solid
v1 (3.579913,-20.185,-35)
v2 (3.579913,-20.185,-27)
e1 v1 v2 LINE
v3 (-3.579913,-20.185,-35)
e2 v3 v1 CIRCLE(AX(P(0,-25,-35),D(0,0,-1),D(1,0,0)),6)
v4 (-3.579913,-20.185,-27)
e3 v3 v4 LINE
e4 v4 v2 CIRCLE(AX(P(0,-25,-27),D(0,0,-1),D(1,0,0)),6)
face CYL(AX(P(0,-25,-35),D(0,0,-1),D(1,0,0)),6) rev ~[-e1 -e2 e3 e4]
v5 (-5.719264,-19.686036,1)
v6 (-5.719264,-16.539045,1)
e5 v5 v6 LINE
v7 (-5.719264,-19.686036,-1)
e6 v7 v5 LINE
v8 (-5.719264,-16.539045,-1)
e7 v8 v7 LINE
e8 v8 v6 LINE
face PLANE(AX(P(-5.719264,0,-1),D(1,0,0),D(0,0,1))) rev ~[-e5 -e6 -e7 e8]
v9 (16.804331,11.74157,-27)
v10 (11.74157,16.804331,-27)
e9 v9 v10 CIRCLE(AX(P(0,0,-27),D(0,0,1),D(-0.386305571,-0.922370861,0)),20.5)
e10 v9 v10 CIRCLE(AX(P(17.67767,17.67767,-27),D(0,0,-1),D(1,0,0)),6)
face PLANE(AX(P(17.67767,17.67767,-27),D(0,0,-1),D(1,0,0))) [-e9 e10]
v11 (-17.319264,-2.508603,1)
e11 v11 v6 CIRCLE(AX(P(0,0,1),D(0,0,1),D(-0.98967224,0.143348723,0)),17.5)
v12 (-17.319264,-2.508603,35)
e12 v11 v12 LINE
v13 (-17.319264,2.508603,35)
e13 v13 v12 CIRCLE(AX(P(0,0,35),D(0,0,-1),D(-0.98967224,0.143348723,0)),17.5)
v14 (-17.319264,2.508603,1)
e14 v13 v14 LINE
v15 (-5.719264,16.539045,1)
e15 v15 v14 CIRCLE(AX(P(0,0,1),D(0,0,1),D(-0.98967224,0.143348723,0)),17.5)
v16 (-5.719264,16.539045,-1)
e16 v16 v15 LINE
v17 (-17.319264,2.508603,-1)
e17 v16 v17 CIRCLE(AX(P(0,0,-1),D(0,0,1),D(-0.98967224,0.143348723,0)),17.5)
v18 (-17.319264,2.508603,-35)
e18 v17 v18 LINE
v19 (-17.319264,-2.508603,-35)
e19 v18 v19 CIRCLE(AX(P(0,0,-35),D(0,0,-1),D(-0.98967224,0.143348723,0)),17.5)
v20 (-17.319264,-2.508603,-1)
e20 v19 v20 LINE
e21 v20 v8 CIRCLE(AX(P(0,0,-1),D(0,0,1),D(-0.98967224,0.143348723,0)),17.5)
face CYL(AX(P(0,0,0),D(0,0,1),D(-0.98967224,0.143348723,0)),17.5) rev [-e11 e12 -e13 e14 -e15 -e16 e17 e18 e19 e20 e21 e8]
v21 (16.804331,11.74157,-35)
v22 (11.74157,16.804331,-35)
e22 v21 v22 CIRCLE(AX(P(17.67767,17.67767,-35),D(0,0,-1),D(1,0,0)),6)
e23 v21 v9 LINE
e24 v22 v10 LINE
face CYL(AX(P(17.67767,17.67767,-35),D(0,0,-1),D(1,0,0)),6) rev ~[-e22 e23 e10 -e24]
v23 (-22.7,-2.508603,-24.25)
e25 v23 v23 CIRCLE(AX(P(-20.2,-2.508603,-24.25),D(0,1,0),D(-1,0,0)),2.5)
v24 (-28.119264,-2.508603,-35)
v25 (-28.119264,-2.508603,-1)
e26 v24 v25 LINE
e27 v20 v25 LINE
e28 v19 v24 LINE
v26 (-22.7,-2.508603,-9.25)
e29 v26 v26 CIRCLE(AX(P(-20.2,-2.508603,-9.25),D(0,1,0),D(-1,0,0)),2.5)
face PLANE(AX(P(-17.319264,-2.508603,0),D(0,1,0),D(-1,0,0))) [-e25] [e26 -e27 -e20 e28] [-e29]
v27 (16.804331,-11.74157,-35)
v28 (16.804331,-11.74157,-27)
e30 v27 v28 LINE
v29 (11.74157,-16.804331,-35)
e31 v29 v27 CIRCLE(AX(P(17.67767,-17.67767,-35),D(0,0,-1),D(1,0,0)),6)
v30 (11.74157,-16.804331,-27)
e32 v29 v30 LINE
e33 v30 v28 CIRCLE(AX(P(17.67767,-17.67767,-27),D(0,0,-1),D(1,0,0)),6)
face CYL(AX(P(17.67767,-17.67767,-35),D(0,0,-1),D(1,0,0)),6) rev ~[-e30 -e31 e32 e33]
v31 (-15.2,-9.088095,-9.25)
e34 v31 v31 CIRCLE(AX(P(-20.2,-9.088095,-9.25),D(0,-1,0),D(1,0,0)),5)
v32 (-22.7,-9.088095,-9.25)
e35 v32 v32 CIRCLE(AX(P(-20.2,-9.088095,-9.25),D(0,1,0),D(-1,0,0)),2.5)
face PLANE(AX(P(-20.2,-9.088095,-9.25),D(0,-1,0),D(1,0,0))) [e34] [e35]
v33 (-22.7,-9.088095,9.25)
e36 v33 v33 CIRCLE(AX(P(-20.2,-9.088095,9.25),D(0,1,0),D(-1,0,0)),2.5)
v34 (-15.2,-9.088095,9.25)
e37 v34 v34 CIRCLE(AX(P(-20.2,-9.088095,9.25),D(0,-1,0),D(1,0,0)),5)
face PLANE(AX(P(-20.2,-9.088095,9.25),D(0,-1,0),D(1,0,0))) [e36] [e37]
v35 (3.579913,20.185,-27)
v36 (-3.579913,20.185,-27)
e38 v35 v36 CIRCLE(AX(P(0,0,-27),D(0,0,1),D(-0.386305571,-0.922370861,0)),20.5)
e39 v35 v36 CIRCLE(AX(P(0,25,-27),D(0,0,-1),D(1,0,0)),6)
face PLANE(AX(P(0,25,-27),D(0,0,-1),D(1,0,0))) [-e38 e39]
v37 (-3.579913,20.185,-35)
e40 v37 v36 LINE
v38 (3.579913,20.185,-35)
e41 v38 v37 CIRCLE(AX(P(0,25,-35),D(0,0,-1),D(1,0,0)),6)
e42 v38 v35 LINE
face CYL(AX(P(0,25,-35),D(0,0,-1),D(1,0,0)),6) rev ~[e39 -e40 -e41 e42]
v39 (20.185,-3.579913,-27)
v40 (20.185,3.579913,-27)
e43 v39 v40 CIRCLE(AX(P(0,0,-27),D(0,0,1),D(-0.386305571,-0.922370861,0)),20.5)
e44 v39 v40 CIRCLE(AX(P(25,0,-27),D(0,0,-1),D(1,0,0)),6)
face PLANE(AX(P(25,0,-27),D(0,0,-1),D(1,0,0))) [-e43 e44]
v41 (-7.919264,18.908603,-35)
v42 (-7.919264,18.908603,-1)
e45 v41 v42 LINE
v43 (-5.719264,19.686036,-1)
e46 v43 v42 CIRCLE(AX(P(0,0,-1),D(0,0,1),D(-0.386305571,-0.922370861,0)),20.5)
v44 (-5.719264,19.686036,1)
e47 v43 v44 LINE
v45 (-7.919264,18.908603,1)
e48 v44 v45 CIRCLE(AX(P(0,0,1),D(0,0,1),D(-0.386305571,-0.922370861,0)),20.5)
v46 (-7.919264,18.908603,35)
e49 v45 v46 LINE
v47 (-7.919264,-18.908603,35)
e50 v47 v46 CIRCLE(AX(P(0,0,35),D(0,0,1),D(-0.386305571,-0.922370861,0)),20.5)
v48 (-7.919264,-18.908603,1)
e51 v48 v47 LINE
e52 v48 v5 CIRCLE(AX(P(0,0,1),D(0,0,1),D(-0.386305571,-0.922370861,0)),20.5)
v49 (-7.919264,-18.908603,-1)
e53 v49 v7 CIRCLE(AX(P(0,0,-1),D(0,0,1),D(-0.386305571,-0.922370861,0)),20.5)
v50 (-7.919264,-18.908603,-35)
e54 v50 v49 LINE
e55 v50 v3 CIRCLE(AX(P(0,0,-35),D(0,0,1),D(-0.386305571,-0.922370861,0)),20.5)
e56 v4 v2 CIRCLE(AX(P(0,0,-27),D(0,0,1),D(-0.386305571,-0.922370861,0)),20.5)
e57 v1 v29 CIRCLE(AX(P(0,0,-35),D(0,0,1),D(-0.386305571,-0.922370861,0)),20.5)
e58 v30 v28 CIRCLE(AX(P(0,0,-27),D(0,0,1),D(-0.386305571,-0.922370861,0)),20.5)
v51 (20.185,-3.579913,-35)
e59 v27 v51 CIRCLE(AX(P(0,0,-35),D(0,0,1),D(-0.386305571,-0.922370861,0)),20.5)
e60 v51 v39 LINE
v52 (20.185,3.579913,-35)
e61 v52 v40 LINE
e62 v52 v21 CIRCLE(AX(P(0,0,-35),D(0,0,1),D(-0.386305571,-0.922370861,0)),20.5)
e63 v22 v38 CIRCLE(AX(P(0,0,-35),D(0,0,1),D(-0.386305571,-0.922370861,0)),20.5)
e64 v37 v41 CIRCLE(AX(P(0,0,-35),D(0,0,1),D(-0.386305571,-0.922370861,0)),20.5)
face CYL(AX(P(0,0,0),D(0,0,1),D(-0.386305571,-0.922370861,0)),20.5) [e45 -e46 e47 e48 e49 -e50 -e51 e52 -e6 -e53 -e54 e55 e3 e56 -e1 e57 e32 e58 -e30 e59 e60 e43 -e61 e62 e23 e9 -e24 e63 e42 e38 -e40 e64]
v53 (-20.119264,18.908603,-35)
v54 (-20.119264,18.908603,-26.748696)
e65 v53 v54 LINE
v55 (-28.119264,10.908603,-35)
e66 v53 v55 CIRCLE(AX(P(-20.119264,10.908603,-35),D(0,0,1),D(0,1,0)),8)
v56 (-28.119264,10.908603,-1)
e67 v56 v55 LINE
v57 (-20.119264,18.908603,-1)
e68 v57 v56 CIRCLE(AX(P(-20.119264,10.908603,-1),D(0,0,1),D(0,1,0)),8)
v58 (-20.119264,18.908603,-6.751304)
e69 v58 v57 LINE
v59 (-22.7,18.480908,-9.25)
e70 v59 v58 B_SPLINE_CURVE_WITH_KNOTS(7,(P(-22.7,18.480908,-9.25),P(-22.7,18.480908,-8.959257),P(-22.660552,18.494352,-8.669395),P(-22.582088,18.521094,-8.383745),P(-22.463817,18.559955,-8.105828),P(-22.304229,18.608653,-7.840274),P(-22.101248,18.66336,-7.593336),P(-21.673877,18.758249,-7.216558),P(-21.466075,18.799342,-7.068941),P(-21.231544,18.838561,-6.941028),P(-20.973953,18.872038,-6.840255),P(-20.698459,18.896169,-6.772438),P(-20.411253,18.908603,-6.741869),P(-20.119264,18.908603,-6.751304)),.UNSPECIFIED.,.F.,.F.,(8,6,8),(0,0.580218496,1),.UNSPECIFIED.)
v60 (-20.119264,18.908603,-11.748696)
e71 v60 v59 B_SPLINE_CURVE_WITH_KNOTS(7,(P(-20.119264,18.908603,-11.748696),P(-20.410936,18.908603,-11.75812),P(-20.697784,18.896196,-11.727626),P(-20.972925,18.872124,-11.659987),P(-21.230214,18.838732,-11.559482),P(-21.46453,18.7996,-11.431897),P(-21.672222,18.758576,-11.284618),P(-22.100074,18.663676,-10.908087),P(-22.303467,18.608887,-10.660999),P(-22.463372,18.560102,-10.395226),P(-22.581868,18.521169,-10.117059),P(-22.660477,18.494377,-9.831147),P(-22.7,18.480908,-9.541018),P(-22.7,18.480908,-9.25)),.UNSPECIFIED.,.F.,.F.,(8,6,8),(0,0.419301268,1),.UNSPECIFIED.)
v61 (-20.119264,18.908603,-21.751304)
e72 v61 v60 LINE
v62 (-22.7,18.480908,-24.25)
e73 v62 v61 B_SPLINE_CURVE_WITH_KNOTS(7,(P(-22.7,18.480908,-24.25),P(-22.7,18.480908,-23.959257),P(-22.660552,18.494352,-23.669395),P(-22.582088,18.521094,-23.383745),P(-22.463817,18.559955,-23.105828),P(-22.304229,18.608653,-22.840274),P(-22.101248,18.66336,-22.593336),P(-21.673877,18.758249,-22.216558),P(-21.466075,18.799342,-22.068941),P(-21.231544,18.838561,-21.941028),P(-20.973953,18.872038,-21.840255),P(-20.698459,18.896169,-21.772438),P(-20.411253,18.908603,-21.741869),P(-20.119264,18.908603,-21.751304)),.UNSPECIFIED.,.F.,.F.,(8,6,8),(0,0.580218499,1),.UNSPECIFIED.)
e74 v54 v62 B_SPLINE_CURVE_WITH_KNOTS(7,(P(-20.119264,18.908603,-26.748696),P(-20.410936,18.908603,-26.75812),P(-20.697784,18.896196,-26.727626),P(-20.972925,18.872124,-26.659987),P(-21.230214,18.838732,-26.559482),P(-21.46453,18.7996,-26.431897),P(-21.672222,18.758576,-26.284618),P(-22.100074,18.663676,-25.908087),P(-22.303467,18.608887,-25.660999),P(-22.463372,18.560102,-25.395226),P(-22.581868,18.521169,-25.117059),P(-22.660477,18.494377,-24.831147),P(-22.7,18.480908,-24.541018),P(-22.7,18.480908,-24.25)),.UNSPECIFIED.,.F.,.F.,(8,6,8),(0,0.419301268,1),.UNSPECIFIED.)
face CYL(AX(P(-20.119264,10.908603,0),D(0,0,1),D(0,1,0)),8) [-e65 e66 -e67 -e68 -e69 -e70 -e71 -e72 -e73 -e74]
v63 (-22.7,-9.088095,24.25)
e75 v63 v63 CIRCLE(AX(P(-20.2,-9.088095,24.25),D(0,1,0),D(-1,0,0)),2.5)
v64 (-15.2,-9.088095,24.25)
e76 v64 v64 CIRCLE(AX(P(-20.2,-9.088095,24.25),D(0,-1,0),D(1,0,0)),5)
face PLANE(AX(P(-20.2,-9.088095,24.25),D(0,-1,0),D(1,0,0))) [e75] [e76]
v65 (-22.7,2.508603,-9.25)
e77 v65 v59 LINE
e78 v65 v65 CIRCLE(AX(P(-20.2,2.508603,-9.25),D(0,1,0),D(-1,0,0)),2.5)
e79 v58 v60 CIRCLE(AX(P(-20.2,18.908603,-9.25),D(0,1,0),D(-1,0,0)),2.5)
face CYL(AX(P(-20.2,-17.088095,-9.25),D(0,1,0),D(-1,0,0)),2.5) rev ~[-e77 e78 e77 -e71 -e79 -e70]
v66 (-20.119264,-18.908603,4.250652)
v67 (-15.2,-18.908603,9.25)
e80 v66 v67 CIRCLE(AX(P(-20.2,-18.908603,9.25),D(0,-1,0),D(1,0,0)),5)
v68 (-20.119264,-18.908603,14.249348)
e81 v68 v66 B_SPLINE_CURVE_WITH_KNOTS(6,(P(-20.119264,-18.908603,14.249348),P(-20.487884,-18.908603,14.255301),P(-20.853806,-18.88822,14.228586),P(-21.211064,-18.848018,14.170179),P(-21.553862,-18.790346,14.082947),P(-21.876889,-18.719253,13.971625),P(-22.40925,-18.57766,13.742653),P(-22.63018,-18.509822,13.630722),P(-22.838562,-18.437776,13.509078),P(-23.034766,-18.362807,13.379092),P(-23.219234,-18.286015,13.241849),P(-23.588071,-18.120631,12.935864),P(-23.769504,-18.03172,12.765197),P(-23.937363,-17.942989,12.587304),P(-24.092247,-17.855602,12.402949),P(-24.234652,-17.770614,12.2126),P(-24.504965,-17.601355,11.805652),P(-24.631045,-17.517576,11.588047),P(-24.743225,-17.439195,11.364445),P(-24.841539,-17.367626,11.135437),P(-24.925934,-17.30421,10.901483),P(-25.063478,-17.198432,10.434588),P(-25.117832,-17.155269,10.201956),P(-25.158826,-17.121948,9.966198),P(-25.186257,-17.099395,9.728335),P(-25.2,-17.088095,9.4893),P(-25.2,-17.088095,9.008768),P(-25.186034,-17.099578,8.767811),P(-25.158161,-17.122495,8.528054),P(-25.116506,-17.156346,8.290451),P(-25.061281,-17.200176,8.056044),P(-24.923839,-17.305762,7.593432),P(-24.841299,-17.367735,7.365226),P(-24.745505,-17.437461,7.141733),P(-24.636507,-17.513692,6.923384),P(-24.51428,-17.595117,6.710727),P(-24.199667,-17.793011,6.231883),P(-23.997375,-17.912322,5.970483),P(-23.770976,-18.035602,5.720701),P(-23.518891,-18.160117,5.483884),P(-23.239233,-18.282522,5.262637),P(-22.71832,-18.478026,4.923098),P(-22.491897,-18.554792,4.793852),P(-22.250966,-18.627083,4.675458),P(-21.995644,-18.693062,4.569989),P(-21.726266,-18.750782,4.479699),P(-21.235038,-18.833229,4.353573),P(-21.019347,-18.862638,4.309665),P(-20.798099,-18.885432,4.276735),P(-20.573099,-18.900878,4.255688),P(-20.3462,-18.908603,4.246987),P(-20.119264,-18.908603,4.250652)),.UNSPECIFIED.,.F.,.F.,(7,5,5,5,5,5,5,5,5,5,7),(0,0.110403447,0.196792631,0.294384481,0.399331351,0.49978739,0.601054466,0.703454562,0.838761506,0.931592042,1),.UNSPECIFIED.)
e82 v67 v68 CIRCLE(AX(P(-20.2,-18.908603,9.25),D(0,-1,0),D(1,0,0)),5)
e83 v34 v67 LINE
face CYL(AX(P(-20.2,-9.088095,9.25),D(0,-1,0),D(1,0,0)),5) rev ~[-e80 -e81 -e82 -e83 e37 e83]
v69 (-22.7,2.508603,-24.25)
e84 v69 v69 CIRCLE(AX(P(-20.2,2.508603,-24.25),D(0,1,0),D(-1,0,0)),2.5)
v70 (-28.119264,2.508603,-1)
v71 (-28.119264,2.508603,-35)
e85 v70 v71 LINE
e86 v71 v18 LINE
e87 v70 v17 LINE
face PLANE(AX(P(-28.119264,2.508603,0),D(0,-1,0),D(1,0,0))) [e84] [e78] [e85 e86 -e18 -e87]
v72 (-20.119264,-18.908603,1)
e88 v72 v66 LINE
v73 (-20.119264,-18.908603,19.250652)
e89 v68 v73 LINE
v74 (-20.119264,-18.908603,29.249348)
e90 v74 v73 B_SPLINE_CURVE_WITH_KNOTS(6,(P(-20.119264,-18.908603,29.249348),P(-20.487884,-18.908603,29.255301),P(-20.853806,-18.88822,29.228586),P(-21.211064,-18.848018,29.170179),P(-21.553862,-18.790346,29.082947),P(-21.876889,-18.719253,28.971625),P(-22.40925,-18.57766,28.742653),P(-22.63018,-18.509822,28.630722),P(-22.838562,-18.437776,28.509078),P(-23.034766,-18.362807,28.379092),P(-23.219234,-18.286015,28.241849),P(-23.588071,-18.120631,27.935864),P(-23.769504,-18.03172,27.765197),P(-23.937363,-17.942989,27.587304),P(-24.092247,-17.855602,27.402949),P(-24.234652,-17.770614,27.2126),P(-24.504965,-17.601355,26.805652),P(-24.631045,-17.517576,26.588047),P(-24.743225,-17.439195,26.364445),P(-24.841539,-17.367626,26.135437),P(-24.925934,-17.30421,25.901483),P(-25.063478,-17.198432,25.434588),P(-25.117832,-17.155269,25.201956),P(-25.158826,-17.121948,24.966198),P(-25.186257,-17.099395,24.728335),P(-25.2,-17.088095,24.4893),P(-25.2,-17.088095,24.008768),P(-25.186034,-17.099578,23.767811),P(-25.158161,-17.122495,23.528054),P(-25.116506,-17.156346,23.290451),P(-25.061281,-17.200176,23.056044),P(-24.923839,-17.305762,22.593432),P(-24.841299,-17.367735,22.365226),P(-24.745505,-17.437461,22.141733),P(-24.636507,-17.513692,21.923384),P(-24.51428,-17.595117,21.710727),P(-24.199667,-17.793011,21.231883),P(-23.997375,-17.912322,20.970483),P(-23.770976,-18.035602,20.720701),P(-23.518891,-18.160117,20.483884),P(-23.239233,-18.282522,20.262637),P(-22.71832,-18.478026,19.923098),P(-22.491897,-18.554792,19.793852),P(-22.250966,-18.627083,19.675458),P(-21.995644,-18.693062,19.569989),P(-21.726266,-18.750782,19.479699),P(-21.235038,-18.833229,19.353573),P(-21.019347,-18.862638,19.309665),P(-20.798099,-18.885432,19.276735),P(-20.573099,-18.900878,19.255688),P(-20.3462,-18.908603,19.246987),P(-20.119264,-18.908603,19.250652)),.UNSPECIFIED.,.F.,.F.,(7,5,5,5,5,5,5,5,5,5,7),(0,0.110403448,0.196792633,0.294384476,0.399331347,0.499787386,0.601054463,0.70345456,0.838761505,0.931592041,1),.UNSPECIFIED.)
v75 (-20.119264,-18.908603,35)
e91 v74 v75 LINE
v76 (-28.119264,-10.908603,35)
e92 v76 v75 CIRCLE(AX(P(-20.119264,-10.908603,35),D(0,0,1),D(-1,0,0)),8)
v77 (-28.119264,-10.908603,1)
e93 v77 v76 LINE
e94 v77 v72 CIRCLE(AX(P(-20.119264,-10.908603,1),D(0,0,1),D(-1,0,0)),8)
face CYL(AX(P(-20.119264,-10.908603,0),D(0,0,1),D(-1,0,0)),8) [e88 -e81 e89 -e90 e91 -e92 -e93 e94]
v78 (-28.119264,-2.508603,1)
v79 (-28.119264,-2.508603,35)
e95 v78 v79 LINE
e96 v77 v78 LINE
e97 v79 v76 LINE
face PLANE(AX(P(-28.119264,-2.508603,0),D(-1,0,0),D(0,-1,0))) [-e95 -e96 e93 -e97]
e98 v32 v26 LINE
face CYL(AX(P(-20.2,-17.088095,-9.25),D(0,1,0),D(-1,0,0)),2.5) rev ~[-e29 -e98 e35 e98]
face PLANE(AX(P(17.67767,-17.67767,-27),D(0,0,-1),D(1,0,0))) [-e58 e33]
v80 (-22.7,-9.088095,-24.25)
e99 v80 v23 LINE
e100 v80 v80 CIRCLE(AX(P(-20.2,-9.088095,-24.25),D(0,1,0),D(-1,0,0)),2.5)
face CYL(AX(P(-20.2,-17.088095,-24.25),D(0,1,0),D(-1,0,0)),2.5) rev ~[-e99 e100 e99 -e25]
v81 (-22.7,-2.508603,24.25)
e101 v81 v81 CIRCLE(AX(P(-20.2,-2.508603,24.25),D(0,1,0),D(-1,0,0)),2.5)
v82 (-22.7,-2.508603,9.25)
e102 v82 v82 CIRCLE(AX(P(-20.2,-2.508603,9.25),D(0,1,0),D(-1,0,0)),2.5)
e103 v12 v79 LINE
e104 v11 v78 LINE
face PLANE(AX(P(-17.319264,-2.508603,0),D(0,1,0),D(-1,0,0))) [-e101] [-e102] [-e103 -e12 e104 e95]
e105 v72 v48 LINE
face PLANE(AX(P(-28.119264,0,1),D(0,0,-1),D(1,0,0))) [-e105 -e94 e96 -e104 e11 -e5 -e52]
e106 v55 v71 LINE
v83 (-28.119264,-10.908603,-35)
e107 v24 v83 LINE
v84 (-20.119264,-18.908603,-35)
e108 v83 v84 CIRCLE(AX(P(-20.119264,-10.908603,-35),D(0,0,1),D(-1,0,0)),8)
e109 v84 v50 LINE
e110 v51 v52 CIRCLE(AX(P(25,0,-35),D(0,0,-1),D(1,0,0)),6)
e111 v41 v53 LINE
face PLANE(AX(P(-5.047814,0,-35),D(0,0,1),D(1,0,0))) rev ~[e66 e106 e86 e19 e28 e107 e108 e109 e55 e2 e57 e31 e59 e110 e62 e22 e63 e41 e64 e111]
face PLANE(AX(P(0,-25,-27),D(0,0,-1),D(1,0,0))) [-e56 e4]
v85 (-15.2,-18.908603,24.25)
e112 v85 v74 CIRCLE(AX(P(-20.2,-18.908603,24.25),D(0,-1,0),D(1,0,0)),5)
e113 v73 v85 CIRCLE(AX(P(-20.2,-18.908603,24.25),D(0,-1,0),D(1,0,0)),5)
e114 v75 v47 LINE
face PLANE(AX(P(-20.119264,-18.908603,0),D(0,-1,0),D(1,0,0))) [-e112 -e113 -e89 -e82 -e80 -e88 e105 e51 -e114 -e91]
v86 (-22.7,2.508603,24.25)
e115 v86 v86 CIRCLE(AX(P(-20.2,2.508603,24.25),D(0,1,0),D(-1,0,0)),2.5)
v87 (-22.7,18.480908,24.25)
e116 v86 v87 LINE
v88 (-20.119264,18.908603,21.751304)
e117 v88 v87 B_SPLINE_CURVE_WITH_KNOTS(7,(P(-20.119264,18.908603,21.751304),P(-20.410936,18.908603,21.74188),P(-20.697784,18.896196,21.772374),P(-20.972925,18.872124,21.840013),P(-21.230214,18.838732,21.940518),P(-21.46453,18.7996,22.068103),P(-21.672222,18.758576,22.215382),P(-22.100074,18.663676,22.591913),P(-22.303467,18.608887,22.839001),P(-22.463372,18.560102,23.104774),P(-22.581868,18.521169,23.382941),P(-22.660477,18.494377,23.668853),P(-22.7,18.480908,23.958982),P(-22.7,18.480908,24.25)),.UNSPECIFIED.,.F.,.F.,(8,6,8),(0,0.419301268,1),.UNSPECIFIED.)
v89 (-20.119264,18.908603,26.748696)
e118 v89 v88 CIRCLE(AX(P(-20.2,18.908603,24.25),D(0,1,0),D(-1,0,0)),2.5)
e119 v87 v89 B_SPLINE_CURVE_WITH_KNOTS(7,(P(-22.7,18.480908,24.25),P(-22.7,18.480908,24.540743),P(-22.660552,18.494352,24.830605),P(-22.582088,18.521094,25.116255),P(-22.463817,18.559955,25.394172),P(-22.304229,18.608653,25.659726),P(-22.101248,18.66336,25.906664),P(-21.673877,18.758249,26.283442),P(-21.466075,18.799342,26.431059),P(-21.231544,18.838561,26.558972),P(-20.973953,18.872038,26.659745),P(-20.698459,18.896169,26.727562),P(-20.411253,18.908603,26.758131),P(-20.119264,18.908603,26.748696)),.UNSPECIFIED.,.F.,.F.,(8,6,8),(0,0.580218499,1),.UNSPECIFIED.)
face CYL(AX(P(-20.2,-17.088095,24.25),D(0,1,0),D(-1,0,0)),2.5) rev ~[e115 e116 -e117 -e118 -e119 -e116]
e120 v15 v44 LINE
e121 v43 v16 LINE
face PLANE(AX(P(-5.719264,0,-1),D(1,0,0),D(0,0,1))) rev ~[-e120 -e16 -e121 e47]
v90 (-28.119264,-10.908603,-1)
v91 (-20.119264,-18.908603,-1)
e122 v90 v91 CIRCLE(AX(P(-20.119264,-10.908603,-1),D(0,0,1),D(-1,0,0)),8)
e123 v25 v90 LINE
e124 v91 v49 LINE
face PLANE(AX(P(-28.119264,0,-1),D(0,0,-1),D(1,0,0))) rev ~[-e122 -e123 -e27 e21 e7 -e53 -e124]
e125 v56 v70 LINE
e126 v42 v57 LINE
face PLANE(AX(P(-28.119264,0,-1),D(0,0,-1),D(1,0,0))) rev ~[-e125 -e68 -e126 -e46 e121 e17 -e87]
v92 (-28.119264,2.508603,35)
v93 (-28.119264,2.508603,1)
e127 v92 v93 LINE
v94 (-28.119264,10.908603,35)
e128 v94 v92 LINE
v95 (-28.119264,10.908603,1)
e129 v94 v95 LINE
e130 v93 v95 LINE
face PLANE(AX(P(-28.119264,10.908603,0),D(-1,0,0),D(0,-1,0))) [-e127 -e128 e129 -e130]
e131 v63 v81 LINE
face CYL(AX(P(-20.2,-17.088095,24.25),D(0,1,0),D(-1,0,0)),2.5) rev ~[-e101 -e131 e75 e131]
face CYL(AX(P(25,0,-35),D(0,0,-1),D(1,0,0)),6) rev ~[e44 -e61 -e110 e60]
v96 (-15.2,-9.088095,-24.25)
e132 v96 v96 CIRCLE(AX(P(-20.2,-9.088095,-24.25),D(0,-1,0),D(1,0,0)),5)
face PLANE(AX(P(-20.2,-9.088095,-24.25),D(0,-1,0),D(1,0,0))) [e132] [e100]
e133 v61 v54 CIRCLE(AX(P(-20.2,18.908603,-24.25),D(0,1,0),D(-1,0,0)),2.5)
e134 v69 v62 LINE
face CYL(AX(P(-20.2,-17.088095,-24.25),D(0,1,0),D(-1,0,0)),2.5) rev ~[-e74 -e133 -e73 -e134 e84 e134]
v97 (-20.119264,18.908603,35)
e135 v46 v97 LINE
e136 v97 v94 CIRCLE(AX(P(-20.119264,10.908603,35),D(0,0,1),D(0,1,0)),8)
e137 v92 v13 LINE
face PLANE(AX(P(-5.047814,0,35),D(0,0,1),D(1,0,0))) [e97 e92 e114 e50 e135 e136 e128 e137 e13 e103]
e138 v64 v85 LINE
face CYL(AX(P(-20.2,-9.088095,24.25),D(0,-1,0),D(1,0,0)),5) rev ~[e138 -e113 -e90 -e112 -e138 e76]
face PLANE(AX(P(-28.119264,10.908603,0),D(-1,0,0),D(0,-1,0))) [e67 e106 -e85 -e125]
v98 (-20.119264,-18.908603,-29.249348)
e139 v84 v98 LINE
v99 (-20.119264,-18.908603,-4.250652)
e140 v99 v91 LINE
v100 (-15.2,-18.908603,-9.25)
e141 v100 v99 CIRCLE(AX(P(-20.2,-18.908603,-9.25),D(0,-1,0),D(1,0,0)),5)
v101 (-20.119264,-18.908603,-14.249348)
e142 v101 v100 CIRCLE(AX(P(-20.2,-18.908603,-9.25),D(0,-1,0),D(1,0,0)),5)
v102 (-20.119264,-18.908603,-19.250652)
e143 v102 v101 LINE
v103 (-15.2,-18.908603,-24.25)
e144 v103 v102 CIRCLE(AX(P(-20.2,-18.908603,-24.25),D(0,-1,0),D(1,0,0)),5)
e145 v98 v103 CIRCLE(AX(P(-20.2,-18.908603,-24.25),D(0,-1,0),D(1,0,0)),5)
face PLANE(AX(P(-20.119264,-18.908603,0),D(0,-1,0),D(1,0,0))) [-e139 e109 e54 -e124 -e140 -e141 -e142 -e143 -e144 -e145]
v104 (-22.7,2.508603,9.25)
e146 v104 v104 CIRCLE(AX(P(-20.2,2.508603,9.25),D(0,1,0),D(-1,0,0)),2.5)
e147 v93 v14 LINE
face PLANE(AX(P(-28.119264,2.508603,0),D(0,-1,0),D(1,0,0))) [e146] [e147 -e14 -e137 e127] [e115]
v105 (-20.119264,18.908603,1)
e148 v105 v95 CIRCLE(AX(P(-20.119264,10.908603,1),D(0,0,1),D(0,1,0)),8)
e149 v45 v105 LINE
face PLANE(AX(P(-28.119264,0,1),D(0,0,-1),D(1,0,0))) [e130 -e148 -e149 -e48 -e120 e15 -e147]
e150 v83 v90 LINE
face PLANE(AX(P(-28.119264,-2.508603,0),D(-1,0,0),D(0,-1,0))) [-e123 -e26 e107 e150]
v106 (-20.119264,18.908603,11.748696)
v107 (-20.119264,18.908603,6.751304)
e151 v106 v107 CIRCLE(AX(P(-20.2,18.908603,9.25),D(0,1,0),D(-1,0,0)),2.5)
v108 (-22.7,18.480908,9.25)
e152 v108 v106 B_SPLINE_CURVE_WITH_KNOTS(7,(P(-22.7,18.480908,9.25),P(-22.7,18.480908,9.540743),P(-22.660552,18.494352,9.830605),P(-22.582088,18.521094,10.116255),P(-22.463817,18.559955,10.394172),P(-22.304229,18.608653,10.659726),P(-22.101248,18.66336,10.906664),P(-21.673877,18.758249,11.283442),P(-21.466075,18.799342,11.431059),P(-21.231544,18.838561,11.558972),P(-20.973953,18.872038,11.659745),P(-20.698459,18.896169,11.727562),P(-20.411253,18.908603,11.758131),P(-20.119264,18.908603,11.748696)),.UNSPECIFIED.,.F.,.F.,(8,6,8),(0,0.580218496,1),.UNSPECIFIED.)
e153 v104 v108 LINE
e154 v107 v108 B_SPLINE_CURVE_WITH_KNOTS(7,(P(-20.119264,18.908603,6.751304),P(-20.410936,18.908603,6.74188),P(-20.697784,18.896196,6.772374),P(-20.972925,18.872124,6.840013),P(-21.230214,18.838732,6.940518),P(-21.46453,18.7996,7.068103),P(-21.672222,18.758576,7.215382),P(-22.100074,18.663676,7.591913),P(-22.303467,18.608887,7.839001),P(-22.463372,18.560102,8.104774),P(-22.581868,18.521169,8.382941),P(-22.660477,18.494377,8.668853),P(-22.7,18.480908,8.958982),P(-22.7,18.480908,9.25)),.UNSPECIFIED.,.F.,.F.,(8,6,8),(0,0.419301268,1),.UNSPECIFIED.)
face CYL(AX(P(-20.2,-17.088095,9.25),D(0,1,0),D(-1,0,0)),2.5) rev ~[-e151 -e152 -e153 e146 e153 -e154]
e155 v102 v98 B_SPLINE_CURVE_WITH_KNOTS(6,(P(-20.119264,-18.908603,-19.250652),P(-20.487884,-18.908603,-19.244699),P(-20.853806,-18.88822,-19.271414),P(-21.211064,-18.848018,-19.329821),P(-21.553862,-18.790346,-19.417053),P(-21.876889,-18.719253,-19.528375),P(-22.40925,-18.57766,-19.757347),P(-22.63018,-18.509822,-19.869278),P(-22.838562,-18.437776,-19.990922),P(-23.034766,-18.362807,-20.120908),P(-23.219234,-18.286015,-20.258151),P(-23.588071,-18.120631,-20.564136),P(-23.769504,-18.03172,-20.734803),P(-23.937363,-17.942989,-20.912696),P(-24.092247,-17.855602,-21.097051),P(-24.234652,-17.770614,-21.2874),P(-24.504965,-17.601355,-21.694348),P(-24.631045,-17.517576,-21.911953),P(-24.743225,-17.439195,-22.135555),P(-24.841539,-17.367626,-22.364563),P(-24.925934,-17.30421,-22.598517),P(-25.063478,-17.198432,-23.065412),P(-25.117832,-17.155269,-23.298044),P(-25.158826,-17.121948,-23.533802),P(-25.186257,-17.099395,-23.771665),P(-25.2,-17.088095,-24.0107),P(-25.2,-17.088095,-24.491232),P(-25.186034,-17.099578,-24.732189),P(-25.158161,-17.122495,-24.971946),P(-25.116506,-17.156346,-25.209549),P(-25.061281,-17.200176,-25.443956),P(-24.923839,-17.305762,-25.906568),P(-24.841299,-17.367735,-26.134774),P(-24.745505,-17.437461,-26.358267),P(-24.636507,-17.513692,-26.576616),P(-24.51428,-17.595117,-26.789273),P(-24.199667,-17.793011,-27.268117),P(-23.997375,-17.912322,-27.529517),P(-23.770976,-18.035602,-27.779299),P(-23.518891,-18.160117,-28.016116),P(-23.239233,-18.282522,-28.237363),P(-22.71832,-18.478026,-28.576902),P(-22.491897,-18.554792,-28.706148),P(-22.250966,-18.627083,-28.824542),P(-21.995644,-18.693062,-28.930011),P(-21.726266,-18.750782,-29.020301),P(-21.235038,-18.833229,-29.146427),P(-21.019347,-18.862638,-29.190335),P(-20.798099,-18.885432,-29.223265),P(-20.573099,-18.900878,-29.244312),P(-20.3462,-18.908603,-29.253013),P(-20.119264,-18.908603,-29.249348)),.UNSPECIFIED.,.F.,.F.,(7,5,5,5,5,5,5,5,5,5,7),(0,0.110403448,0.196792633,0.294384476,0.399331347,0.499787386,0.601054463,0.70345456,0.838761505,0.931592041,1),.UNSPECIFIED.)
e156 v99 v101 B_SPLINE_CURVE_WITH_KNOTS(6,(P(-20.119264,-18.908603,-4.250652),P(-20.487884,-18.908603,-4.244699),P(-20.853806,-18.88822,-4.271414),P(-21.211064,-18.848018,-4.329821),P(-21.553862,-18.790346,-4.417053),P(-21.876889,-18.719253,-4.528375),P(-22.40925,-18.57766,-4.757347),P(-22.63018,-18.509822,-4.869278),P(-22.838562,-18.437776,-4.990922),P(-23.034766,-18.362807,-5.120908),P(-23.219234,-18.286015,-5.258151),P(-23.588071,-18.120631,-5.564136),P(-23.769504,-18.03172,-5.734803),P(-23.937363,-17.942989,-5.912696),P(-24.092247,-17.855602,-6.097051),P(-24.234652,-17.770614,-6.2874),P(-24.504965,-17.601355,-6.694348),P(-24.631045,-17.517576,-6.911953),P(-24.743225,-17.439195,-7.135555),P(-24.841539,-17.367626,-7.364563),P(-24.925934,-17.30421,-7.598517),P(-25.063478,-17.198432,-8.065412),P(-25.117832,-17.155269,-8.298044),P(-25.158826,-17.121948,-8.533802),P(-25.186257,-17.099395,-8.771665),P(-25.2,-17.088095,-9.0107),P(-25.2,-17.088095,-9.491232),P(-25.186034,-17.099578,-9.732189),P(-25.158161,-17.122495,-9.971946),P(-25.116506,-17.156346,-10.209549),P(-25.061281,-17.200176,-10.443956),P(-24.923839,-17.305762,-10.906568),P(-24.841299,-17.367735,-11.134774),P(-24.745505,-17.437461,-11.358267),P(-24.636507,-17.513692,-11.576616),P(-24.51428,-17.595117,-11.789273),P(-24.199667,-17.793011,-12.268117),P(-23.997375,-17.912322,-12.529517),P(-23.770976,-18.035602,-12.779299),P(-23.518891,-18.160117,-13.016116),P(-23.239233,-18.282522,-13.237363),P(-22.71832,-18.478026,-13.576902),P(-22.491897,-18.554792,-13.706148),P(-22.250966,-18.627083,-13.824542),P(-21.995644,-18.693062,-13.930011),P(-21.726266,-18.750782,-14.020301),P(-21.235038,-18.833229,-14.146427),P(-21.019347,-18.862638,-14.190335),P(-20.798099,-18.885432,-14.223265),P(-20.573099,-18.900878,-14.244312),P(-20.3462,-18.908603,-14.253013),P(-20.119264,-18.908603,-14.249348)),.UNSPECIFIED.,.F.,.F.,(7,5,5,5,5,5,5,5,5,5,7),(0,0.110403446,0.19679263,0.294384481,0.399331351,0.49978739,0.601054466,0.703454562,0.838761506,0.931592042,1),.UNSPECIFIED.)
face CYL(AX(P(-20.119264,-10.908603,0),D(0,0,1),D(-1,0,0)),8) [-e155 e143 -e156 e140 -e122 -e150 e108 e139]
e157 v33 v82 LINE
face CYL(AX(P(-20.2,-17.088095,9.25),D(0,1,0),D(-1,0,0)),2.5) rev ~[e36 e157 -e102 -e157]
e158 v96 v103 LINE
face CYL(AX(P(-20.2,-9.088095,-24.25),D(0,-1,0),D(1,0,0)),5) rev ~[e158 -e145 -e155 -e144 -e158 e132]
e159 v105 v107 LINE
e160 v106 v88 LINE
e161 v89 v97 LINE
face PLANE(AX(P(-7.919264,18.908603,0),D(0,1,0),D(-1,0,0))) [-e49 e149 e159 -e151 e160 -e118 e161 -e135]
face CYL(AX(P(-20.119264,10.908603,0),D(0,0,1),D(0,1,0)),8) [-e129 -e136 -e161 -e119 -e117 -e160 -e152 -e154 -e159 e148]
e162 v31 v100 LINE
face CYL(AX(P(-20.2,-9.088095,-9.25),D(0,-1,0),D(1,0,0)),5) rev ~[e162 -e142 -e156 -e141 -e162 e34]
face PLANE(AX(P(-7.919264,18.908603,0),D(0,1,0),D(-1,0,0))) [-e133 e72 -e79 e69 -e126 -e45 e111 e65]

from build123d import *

# Parameters (mm, degrees)
F1_DEPTH       = 35
F3_D           = 5
F3_START       = 1.8205079
F3_CBORE_D     = 10
F3_CBORE_DEPTH = 8
F4_W           = 22.4
F4_H           = 2
F5_DEPTH       = 25
F6_R           = 6
F7_DEPTH       = 8


with BuildPart() as f1:
    # F0 (on Top) → F1 (new body, symmetric)
    with BuildSketch(Plane.XY):
        with BuildLine():
            ThreePointArc((-17.3192642082, 2.5086026559), (17.5, 0), (-17.3192642082, -2.5086026559))
            Line((-17.3192642082, -2.5086026559), (-28.1192642082, -2.5086026559))
            Line((-28.1192642082, -2.5086026559), (-28.1192642082, -10.9086026559))
            ThreePointArc((-28.1192642082, -10.9086026559), (-25.7761184577, -16.5654569054), (-20.1192642082, -18.9086026559))
            Line((-20.1192642082, -18.9086026559), (-7.9192642082, -18.9086026559))
            ThreePointArc((-7.9192642082, -18.9086026559), (20.5, 0), (-7.9192642082, 18.9086026559))
            Line((-7.9192642082, 18.9086026559), (-20.1192642082, 18.9086026559))
            ThreePointArc((-20.1192642082, 18.9086026559), (-25.7761184577, 16.5654569054), (-28.1192642082, 10.9086026559))
            Line((-28.1192642082, 10.9086026559), (-28.1192642082, 2.5086026559))
            Line((-28.1192642082, 2.5086026559), (-17.3192642082, 2.5086026559))
        make_face()
    extrude(amount=F1_DEPTH, both=True)

    # F3 (through all)
    # its depths count from where the whole tool has entered the part; down to there all is cleared
    with Locations(Plane.XZ.offset(18.9086026559).offset(-F3_START)):
        with Locations((-20.2, -24.25), (-20.2, -9.25), (-20.2, 9.25), (-20.2, 24.25)):
            CounterBoreHole(F3_D / 2, F3_CBORE_D / 2, F3_CBORE_DEPTH)

    # F4 (on Front) → F5 (cut, symmetric)
    with BuildSketch(Plane.XZ):
        with Locations((-16.9192642082, 0)):
            Rectangle(F4_W, F4_H)
    extrude(amount=F5_DEPTH, both=True, mode=Mode.SUBTRACT)

    # F6 (on face) → F7 (cut)
    with BuildSketch(Plane(origin=(0, 0, -35), x_dir=(1, 0, 0), z_dir=(0, 0, -1))):
        with Locations((0, 25)):
            Circle(F6_R)
        with Locations((17.6776695297, 17.6776695297)):
            Circle(F6_R)
        with Locations((25, 0)):
            Circle(F6_R)
        with Locations((17.6776695297, -17.6776695297)):
            Circle(F6_R)
        with Locations((0, -25)):
            Circle(F6_R)
    extrude(amount=-F7_DEPTH, mode=Mode.SUBTRACT)


solid = f1.part
